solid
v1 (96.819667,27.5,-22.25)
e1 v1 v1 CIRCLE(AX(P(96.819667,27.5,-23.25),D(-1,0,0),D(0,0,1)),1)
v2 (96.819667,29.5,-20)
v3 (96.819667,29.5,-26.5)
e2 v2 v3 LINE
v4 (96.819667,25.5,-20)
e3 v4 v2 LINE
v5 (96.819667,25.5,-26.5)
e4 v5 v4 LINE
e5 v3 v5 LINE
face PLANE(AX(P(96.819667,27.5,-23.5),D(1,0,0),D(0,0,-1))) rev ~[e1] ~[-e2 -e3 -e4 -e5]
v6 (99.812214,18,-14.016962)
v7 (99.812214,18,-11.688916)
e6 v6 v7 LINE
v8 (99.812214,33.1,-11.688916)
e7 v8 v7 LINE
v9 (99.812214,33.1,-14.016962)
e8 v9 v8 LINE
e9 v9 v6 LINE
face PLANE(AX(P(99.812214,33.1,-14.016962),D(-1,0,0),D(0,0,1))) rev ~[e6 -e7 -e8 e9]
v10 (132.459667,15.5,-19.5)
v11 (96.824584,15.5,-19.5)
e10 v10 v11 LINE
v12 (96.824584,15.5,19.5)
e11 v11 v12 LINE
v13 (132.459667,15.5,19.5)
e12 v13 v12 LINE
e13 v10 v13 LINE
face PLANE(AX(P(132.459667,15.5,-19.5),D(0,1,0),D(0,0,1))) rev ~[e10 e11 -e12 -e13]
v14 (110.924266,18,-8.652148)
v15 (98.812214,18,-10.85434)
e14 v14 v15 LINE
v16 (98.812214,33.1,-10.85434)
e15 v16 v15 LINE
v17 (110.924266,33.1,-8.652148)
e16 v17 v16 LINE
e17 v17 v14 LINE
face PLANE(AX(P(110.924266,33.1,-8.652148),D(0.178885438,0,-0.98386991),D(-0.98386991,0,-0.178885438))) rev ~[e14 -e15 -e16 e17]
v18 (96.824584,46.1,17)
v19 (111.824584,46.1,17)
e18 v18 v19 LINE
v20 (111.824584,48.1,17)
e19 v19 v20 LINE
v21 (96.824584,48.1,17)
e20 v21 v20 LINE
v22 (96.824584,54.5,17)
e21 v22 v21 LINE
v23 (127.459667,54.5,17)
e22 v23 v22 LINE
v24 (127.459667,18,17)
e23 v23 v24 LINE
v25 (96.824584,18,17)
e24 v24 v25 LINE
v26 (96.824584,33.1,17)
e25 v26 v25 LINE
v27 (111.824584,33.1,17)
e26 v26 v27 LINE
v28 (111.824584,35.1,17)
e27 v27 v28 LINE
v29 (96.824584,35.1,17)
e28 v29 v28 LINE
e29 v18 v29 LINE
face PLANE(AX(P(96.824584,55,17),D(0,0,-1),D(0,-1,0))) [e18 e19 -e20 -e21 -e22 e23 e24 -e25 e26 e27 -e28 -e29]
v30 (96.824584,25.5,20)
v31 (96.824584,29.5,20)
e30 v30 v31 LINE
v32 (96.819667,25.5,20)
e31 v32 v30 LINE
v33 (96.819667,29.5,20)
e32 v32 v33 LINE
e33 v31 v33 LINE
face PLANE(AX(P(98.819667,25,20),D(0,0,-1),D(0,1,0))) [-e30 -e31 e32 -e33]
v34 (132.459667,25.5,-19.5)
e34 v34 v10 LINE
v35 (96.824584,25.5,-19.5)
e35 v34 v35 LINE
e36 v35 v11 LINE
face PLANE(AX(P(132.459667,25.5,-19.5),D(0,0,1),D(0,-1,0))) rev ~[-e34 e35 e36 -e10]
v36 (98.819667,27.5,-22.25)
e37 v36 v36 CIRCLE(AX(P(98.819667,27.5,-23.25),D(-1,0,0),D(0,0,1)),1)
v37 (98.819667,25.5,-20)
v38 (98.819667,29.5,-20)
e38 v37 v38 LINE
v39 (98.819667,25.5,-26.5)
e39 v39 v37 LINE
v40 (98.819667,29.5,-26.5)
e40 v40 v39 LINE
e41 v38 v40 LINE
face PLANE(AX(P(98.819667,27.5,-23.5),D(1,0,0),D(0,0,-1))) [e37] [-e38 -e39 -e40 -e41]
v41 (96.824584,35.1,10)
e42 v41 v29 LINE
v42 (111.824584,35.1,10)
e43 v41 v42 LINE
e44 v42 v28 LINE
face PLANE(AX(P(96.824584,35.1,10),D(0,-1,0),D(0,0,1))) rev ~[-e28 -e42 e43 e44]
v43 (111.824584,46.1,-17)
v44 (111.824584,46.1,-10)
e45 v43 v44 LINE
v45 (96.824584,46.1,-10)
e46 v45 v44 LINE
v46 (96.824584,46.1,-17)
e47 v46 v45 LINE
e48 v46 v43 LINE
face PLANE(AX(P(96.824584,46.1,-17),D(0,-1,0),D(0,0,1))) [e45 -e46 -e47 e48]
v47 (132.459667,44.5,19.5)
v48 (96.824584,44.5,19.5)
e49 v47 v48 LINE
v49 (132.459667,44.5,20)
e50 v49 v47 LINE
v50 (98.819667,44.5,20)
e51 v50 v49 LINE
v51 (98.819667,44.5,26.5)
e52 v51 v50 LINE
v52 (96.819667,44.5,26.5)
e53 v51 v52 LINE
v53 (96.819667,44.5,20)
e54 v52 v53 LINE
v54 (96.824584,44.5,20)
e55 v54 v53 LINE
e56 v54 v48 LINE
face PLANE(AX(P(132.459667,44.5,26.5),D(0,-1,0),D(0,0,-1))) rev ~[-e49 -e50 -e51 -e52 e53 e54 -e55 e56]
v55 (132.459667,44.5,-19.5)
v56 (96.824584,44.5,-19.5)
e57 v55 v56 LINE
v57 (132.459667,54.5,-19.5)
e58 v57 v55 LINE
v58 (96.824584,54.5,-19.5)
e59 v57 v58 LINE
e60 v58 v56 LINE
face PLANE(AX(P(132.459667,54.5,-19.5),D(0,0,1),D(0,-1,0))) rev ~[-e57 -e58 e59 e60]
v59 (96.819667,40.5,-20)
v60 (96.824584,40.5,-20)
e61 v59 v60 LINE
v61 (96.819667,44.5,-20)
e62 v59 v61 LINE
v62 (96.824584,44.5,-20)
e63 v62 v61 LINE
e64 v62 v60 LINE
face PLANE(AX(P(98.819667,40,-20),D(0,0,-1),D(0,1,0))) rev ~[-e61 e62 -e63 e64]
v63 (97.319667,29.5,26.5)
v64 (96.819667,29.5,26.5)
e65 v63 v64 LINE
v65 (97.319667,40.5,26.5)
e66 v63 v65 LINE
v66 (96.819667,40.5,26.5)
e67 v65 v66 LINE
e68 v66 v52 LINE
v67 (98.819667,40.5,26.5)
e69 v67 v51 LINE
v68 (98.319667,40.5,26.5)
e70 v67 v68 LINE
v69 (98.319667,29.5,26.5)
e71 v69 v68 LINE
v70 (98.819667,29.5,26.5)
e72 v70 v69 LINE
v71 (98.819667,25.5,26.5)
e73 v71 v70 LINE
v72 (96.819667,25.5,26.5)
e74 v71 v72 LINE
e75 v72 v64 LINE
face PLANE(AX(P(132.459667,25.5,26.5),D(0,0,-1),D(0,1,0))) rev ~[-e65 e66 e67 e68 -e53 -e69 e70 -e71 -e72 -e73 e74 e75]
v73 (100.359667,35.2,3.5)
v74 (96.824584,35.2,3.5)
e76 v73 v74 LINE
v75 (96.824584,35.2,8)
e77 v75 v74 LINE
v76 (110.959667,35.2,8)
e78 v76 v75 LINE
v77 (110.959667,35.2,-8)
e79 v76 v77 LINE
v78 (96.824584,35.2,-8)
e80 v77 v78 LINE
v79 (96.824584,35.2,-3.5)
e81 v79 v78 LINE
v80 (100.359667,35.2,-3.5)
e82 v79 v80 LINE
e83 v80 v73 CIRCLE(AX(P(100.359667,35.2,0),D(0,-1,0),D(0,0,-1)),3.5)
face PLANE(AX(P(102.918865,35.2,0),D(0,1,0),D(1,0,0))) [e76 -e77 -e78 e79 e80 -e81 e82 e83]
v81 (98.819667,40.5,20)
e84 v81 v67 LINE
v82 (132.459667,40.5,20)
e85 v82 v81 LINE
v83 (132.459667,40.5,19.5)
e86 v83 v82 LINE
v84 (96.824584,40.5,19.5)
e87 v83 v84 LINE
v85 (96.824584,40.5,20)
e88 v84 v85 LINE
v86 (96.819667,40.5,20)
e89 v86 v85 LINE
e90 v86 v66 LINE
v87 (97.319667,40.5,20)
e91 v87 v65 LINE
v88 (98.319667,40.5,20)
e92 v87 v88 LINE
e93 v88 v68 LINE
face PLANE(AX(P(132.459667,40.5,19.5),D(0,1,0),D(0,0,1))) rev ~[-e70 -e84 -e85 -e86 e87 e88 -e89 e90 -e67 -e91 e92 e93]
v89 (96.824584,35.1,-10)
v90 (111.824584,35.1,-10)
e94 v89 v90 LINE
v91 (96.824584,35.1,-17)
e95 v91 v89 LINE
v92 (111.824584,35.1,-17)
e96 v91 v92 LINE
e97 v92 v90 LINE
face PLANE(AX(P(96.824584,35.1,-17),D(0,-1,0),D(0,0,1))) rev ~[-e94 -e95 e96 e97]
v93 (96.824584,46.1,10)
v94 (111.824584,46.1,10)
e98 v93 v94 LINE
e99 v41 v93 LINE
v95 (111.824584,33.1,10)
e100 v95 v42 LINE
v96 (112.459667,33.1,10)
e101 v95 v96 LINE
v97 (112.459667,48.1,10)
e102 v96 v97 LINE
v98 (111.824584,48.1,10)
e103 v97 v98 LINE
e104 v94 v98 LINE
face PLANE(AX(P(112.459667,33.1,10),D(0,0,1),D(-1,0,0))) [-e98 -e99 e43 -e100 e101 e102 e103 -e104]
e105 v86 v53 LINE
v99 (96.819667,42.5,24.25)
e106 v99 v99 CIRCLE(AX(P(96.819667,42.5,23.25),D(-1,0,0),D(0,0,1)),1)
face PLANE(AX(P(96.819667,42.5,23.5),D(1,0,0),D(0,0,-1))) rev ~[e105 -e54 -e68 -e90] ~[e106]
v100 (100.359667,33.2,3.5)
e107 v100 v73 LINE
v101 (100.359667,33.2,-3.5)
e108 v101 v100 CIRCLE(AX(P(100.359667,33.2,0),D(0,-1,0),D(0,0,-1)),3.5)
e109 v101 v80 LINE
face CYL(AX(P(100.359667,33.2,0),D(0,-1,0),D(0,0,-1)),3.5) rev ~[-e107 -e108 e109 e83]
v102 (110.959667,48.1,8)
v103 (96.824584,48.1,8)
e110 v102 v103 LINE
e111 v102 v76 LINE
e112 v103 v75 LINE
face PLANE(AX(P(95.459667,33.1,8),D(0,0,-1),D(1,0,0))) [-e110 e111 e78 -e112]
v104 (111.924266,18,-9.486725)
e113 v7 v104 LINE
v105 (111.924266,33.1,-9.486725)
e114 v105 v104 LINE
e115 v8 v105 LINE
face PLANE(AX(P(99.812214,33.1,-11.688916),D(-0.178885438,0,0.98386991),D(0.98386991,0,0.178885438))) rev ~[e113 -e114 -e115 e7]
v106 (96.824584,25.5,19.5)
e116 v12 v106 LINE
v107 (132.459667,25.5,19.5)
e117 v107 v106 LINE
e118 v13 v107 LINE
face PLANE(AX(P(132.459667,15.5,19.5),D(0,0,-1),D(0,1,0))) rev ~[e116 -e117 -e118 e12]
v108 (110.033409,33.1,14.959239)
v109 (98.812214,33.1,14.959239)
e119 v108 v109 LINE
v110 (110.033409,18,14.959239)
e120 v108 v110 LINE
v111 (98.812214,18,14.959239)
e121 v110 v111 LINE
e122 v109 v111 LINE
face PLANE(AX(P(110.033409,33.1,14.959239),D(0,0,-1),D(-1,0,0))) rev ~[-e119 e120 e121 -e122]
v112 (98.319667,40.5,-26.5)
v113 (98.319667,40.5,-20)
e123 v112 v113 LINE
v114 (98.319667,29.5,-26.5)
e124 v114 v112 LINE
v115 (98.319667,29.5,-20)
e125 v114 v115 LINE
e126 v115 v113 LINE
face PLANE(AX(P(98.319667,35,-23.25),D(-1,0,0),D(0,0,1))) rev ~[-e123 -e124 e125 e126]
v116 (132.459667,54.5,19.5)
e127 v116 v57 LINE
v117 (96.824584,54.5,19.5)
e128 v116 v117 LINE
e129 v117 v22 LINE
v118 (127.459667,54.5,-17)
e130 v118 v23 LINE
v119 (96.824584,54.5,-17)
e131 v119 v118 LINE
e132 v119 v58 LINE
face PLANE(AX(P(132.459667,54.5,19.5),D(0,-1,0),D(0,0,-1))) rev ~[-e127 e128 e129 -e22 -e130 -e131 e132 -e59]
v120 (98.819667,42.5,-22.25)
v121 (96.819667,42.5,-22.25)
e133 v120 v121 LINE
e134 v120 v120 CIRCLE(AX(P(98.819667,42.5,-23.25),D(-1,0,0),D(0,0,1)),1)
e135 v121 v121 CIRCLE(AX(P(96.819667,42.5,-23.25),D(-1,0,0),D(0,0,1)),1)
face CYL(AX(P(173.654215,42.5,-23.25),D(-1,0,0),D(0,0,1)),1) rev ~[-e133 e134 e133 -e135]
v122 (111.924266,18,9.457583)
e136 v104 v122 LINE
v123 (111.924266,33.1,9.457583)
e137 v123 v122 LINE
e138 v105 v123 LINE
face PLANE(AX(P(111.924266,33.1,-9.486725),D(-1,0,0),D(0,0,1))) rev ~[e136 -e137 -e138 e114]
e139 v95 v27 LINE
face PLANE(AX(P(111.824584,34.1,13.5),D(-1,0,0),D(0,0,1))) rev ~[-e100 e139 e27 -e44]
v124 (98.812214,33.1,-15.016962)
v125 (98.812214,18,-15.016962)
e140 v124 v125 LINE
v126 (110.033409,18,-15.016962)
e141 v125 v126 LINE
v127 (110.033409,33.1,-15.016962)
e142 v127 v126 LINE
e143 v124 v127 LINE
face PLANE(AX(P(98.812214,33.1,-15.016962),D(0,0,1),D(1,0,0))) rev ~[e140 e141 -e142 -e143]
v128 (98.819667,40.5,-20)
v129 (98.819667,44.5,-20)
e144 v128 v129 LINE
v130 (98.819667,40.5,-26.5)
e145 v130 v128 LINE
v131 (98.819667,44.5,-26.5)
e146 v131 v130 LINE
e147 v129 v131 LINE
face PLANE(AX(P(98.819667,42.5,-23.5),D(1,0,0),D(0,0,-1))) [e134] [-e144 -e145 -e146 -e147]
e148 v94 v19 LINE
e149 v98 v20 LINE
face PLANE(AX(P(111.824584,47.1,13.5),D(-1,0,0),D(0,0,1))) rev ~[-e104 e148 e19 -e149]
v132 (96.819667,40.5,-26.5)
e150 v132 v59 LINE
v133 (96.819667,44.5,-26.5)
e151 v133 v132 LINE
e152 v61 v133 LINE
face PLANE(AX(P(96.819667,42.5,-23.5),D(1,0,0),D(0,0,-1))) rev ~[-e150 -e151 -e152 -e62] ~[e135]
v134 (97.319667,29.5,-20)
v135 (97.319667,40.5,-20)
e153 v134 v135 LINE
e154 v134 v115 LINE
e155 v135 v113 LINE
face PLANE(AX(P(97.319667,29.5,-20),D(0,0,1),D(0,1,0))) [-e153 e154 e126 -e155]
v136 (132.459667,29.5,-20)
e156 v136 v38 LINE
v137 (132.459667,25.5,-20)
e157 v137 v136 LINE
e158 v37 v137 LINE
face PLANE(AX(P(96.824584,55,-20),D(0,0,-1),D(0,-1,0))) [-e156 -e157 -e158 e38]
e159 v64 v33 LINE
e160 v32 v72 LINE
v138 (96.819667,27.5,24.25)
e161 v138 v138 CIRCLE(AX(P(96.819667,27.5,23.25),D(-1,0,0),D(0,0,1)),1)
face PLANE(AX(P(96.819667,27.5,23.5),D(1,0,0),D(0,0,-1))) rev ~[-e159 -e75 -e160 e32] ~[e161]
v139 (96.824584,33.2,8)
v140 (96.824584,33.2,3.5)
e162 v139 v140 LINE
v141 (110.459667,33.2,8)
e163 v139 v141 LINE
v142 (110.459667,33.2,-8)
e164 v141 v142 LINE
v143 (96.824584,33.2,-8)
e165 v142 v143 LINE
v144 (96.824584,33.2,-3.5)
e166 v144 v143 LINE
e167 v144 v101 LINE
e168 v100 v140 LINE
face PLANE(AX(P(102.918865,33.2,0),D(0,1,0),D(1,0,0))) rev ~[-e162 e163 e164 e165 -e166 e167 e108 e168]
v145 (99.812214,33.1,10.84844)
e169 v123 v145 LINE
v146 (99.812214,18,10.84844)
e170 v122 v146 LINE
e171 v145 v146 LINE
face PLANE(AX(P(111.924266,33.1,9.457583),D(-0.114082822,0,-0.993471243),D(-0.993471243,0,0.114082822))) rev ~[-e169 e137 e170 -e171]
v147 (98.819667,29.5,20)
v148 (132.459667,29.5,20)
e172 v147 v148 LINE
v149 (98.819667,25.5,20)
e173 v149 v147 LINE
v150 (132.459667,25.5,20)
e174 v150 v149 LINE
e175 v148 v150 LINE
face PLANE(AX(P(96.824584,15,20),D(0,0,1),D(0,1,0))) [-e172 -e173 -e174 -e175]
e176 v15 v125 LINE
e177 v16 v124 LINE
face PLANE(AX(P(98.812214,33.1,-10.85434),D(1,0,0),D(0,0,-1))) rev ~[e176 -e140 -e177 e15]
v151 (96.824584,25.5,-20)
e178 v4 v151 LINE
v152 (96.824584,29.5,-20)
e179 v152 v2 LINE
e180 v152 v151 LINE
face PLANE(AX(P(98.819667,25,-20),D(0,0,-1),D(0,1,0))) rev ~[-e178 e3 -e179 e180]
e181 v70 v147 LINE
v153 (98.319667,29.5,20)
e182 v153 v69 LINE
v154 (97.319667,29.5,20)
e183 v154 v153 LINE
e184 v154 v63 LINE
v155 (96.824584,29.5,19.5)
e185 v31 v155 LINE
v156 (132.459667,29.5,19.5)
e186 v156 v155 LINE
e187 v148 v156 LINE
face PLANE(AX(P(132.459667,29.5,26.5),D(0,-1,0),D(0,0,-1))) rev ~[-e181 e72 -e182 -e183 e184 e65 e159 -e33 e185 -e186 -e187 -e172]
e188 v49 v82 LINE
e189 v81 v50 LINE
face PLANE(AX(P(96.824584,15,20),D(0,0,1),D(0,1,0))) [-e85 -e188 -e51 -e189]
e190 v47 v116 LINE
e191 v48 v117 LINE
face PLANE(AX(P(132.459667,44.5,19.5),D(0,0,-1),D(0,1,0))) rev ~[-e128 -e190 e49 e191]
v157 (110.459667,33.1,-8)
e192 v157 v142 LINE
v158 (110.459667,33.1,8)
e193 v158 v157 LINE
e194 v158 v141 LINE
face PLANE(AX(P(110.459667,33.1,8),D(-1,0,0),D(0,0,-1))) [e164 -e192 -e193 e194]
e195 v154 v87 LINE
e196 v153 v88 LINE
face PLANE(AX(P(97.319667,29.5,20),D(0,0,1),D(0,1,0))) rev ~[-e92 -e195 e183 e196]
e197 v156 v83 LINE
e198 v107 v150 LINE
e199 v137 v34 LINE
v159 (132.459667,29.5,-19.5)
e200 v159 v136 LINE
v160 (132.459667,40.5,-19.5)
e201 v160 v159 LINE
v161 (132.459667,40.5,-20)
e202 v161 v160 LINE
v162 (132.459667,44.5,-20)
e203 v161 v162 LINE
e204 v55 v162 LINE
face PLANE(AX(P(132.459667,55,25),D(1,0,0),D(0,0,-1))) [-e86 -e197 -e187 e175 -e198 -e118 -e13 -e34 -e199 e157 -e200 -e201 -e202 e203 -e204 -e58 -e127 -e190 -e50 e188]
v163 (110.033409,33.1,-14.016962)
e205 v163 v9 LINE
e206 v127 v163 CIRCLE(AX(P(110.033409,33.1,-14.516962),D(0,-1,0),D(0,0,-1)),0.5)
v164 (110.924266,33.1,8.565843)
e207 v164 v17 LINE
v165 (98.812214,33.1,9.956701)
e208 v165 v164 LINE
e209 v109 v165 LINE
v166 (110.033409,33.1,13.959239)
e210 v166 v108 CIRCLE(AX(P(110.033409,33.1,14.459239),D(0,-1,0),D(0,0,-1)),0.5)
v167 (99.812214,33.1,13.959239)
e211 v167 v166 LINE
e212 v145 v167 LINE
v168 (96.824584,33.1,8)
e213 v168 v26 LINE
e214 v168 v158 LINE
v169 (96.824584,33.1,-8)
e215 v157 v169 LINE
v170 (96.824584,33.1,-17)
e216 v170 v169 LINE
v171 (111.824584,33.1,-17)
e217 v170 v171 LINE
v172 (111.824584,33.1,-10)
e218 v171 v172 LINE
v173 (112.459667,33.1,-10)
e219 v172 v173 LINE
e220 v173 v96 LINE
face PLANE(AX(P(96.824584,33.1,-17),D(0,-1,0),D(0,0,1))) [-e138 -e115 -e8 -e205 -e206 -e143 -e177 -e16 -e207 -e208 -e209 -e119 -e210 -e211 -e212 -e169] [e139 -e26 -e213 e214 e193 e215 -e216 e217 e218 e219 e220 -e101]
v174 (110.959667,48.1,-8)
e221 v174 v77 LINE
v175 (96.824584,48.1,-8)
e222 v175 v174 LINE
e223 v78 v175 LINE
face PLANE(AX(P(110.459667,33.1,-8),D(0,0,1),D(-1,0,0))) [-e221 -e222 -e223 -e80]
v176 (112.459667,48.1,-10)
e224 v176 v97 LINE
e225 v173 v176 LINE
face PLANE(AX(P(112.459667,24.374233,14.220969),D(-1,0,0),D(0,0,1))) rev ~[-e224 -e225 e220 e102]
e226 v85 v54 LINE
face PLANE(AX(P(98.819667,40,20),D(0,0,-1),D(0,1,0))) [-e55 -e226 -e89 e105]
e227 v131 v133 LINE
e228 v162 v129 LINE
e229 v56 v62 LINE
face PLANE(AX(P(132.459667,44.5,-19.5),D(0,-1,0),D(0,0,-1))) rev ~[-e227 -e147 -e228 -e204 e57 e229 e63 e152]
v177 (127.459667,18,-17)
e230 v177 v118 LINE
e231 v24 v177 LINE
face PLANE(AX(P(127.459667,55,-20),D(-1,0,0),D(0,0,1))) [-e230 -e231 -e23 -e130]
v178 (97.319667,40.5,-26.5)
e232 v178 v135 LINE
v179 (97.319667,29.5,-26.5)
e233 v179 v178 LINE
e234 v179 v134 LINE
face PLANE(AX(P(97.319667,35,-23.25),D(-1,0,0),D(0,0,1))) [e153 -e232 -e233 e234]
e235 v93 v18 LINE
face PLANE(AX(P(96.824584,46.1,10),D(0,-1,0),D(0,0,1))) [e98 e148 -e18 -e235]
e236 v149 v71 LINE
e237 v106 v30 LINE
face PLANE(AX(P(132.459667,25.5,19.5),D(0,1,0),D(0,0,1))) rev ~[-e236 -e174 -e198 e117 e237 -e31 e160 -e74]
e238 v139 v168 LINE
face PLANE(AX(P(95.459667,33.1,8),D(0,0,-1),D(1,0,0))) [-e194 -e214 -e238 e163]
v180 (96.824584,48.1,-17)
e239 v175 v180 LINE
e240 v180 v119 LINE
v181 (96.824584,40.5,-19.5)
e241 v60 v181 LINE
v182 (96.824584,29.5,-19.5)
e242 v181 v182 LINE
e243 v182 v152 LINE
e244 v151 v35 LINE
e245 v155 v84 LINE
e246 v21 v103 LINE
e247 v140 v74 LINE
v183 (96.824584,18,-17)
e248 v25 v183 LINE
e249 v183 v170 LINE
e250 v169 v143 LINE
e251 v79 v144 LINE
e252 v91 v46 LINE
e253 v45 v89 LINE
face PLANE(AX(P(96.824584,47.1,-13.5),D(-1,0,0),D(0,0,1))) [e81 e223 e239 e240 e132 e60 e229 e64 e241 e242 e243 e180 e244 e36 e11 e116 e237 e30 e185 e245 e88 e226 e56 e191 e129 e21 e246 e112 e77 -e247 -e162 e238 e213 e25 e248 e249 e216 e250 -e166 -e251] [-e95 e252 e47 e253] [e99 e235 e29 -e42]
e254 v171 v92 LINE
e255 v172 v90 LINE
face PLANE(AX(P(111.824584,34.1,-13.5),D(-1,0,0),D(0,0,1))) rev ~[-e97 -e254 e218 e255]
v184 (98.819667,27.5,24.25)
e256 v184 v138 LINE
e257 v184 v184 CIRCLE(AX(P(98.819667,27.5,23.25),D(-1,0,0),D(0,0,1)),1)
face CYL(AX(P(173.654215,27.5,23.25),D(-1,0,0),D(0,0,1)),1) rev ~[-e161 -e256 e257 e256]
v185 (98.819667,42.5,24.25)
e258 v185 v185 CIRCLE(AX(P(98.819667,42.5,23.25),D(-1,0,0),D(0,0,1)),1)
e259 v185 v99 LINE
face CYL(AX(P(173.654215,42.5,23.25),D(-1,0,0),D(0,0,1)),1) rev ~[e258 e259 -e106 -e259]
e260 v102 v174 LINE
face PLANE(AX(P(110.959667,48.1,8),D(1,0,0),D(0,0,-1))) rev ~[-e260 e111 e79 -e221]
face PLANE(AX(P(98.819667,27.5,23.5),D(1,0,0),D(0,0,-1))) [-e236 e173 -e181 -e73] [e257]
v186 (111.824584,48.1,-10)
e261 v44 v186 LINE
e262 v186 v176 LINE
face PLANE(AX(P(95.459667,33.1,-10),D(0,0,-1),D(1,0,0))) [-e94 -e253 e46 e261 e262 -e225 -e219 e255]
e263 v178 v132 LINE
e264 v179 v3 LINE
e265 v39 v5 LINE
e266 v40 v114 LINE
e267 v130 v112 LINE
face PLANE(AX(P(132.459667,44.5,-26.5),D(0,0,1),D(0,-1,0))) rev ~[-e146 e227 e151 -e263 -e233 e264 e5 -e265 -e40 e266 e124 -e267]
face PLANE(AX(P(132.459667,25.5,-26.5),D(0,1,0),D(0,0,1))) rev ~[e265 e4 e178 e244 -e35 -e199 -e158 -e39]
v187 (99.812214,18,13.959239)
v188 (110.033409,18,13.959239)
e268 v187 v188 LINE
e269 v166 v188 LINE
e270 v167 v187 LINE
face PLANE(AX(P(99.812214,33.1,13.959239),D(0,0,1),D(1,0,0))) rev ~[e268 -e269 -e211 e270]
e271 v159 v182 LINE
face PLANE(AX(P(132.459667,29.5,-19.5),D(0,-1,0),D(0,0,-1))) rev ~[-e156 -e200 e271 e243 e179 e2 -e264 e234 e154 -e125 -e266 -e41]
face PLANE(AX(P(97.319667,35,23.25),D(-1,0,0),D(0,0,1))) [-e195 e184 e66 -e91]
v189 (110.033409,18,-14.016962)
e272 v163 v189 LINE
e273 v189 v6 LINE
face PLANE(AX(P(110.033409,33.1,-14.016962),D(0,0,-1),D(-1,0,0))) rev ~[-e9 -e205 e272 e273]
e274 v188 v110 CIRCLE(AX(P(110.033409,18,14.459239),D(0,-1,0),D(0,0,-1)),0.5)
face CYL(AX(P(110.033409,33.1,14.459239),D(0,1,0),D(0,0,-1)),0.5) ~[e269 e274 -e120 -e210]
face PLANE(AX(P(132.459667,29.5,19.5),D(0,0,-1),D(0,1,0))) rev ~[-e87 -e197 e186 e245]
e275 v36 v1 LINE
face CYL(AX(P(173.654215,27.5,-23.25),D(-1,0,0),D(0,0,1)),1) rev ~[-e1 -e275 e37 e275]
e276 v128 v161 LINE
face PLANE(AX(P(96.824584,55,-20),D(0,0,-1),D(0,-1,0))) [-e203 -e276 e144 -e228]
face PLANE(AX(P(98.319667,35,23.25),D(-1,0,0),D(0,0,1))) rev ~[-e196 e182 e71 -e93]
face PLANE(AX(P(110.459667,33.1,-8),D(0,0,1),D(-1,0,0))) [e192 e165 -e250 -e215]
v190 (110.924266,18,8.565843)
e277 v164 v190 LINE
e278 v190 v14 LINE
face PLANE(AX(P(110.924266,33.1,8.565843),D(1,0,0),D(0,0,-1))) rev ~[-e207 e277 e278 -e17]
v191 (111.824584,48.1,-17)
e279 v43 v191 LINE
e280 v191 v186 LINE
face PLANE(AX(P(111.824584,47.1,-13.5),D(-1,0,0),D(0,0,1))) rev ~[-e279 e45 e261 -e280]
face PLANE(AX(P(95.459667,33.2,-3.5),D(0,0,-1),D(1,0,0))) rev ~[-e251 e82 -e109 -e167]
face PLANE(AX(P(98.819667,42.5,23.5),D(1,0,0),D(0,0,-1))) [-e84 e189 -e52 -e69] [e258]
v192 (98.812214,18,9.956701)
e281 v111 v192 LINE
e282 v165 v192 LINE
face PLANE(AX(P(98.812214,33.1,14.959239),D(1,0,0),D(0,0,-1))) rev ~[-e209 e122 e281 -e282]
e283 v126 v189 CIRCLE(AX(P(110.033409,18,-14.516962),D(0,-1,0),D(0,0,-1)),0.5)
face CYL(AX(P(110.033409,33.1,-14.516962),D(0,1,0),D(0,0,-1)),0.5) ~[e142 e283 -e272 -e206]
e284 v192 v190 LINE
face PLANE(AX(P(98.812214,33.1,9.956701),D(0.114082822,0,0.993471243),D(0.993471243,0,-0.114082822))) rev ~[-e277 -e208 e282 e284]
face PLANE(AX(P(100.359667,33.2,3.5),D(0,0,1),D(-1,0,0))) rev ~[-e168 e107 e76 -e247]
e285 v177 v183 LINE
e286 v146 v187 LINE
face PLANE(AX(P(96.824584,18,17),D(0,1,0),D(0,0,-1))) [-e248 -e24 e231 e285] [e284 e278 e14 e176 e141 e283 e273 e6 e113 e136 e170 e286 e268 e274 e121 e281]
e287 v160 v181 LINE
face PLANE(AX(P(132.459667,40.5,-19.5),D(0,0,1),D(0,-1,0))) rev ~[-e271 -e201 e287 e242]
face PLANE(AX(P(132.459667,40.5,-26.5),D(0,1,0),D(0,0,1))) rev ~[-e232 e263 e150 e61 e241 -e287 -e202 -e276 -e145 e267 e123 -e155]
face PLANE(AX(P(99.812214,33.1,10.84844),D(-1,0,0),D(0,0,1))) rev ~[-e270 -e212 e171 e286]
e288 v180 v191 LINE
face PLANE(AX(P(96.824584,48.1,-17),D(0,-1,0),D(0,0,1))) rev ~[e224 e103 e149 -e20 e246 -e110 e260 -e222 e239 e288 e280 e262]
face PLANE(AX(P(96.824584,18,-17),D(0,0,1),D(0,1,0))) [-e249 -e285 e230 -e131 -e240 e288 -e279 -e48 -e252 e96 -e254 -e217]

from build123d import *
from build123d.topology import SkipClean

# Parameters (mm, degrees)
SKETCH1_R               = 100
BOSS_EXTRUDE1_DEPTH     = 10
SKETCH2_R               = 95
SKETCH2_R_2             = 80
CUT_EXTRUDE1_DEPTH      = 2
BOSS_EXTRUDE2_DEPTH     = 40
BOSS_EXTRUDE3_DEPTH     = 5
CUT_EXTRUDE2_START      = -5
SKETCH5_W               = 50
SKETCH5_H               = 40
CUT_EXTRUDE2_DEPTH      = 40
BOSS_EXTRUDE4_DEPTH     = 45
SKETCH8_W               = 40
SKETCH8_H               = 5
BOSS_EXTRUDE5_DEPTH     = 55
CUT_EXTRUDE3_START      = -10
SKETCH10_W              = 8.429508811
SKETCH10_H              = 40
CUT_EXTRUDE3_DEPTH      = 10
BOSS_EXTRUDE6_START     = 18.2
BOSS_EXTRUDE6_DEPTH     = 2
BOSS_EXTRUDE7_START     = 18.1
BOSS_EXTRUDE7_DEPTH     = 15
SKETCH13_W              = 20.653307815
SKETCH13_H              = 40
CUT_EXTRUDE4_DEPTH      = 5
BOSS_EXTRUDE8_DEPTH     = 17
BOSS_EXTRUDE9_DEPTH     = 3
BOSS_EXTRUDE10_DEPTH    = 3
SKETCH18_W              = 11.98170237
SKETCH18_H              = 40
CUT_EXTRUDE5_DEPTH      = 5
CUT_EXTRUDE6_START      = -20
CUT_EXTRUDE6_DEPTH      = 25
CUT_EXTRUDE7_DEPTH      = 300
CUT_EXTRUDE7_DEPTH_BACK = 300
BOSS_EXTRUDE12_DEPTH    = 30.7
CUT_EXTRUDE8_DEPTH      = 40
BOSS_EXTRUDE13_START    = -33.64
SKETCH27_W              = 7
SKETCH27_H              = 5
BOSS_EXTRUDE13_DEPTH    = 2
CUT_EXTRUDE9_DEPTH      = 40
F_2_0MM_DOWEL_HOLE2_D   = 2
SKETCH31_W              = 0.5
SKETCH31_H              = 16
CUT_EXTRUDE10_DEPTH     = 12.9
CUT_EXTRUDE11_DEPTH     = 20
SKETCH33_W              = 7
SKETCH33_H              = 2
BOSS_EXTRUDE14_DEPTH    = 15
BOSS_EXTRUDE15_START    = -0.5
SKETCH34_W              = 6.5
SKETCH34_H              = 11
BOSS_EXTRUDE15_DEPTH    = 1
BOSS_EXTRUDE16_DEPTH    = 15.1


with BuildPart() as part:
    # Sketch1 → Boss-Extrude1 (new body)
    with BuildSketch(Plane(origin=(0, 0, 0), x_dir=(1, 0, 0), z_dir=(0, 1, 0))):
        with Locations(Location((0, 0, 0), (0, 0, 270))):
            Circle(SKETCH1_R)
    extrude(amount=BOSS_EXTRUDE1_DEPTH)

    # Sketch2 → Cut-Extrude1 (cut)
    with BuildSketch(Plane(origin=(0, 10, 0), x_dir=(1, 0, 0), z_dir=(0, 1, 0))):
        with Locations(Location((0, 0, 0), (0, 0, 270))):
            Circle(SKETCH2_R)
        with Locations(Location((0, 0, 0), (0, 0, 270))):
            Circle(SKETCH2_R_2, mode=Mode.SUBTRACT)
    extrude(amount=-CUT_EXTRUDE1_DEPTH, mode=Mode.SUBTRACT)

    # Sketch3 → Boss-Extrude2 (add)
    with SkipClean():  # the faces are left unmerged after this step: merging them gives an invalid solid
        with BuildSketch(Plane(origin=(0, 10, 0), x_dir=(1, 0, 0), z_dir=(0, 1, 0))):
            with BuildLine():
                Line((-67.175144213, 67.175144213), (-70.710678119, 70.710678119))
                ThreePointArc((-70.710678119, 70.710678119), (100, 0), (-70.710678119, -70.710678119))
                Line((-70.710678119, -70.710678119), (-67.175144213, -67.175144213))
                ThreePointArc((-67.175144213, -67.175144213), (95, 0), (-67.175144213, 67.175144213))
            make_face()
        extrude(amount=BOSS_EXTRUDE2_DEPTH)

    # Sketch5 → Cut-Extrude2 (cut)
    with SkipClean():  # the faces are left unmerged after this step: merging them gives an invalid solid
        with BuildSketch(Plane(origin=(0, 55, 0), x_dir=(1, 0, 0), z_dir=(0, 1, 0)).offset(CUT_EXTRUDE2_START)):
            with Locations((102.459666924, 0)):
                Rectangle(SKETCH5_W, SKETCH5_H)
        extrude(amount=-CUT_EXTRUDE2_DEPTH, mode=Mode.SUBTRACT)



with BuildPart() as body_2:
    # Sketch4 → Boss-Extrude3 (new body)
    with BuildSketch(Plane(origin=(0, 50, 0), x_dir=(1, 0, 0), z_dir=(0, 1, 0))):
        with BuildLine():
            ThreePointArc((-67.175144213, -67.175144213), (95, 0), (-67.175144213, 67.175144213))
            Line((-67.175144213, 67.175144213), (-56.568542495, 56.568542495))
            ThreePointArc((-56.568542495, 56.568542495), (30.614674589, 73.910362601), (80, 0))
            ThreePointArc((80, 0), (30.614674589, -73.910362601), (-56.568542495, -56.568542495))
            Line((-56.568542495, -56.568542495), (-67.175144213, -67.175144213))
        make_face()
        with BuildLine():
            Line((-70.710678119, 70.710678119), (-67.175144213, 67.175144213))
            ThreePointArc((-67.175144213, 67.175144213), (95, 0), (-67.175144213, -67.175144213))
            Line((-67.175144213, -67.175144213), (-70.710678119, -70.710678119))
            ThreePointArc((-70.710678119, -70.710678119), (100, 0), (-70.710678119, 70.710678119))
        make_face()
    extrude(amount=BOSS_EXTRUDE3_DEPTH)


with BuildPart() as part_1:
    with SkipClean():  # the faces are left unmerged after this step: merging them gives an invalid solid
        add(part.part)

        add(body_2.part)  # Boss-Extrude4 merges body 2
        # Sketch7 → Boss-Extrude4 (add)
        with BuildSketch(Plane(origin=(0, 55, 0), x_dir=(1, 0, 0), z_dir=(0, 1, 0))):
            with BuildLine():
                ThreePointArc((96.824583655, 25), (97.434164903, 22.507410108), (97.979589711, 20))
                Line((97.979589711, 20), (127.459666924, 20))
                Line((127.459666924, 20), (127.459666924, -20))
                Line((127.459666924, -20), (97.979589711, -20))
                ThreePointArc((97.979589711, -20), (97.434164903, -22.507410108), (96.824583655, -25))
                Line((96.824583655, -25), (132.459666924, -25))
                Line((132.459666924, -25), (132.459666924, 25))
                Line((132.459666924, 25), (96.824583655, 25))
            make_face()
        extrude(amount=-BOSS_EXTRUDE4_DEPTH)

    # Sketch8 → Boss-Extrude5 (add)
    with SkipClean():  # the faces are left unmerged after this step: merging them gives an invalid solid
        with BuildSketch(Plane.ZY.offset(-127.459666924)):
            with Locations((0, 12.5)):
                Rectangle(SKETCH8_W, SKETCH8_H)
        extrude(amount=BOSS_EXTRUDE5_DEPTH)

    # Sketch10 → Cut-Extrude3 (cut)
    with SkipClean():  # the faces are left unmerged after this step: merging them gives an invalid solid
        with BuildSketch(Plane.XZ.offset(CUT_EXTRUDE3_START)):
            with Locations((88.6561237, 0)):
                Rectangle(SKETCH10_W, SKETCH10_H)
            with BuildLine():
                Line((92.870878105, -20), (92.870878105, 20))
                ThreePointArc((92.870878105, 20), (95, 0), (92.870878105, -20))
            make_face()
        extrude(amount=-CUT_EXTRUDE3_DEPTH, mode=Mode.SUBTRACT)

    # Sketch13 → Cut-Extrude4 (cut)
    with SkipClean():  # the faces are left unmerged after this step: merging them gives an invalid solid
        with BuildSketch(Plane(origin=(0, 55, 0), x_dir=(1, 0, 0), z_dir=(0, 1, 0))):
            with Locations((100.326653908, 0)):
                Rectangle(SKETCH13_W, SKETCH13_H)
        extrude(amount=-CUT_EXTRUDE4_DEPTH, mode=Mode.SUBTRACT)



with BuildPart() as body_2_2:
    # Sketch11 → Boss-Extrude6 (new body)
    with BuildSketch(Plane(origin=(0, 15, 0), x_dir=(1, 0, 0), z_dir=(0, 1, 0)).offset(BOSS_EXTRUDE6_START)):
        with BuildLine():
            Line((110.459666924, 8), (95.459666924, 8))
            Line((95.459666924, 8), (95.459666924, 3.5))
            Line((95.459666924, 3.5), (100.359666924, 3.5))
            ThreePointArc((100.359666924, 3.5), (103.859666924, 0), (100.359666924, -3.5))
            Line((100.359666924, -3.5), (95.459666924, -3.5))
            Line((95.459666924, -3.5), (95.459666924, -8))
            Line((95.459666924, -8), (110.459666924, -8))
            Line((110.459666924, -8), (110.459666924, 8))
        make_face()
    extrude(amount=BOSS_EXTRUDE6_DEPTH)

    # Sketch12 → Boss-Extrude7 (add)
    with BuildSketch(Plane(origin=(0, 15, 0), x_dir=(1, 0, 0), z_dir=(0, 1, 0)).offset(BOSS_EXTRUDE7_START)):
        Polygon((95.459666924, -10), (95.459666924, -8), (110.459666924, -8), (110.459666924, 8), (95.459666924, 8), (95.459666924, 10), (112.459666924, 10), (112.459666924, -10), align=None)
    extrude(amount=BOSS_EXTRUDE7_DEPTH)


with BuildPart() as part_2:
    with SkipClean():  # the faces are left unmerged after this step: merging them gives an invalid solid
        add(part_1.part)

        add(body_2_2.part)  # Boss-Extrude8 merges body 2 2
        # Sketch15 → Boss-Extrude8 (add)
        with BuildSketch(Plane(origin=(112.459666924, 0, 0), x_dir=(0, 0, -1), z_dir=(1, 0, 0))):
            Polygon((-8.249409199, 33.1), (-18.249409392, 15), (-20, 15), (-20, 15.967177607), (-10, 34.067177257), align=None)
            Polygon((10, 34.067177257), (20, 15.967177607), (20, 15), (18.249409392, 15), (8.249409199, 33.1), align=None)
        extrude(amount=-BOSS_EXTRUDE8_DEPTH)

    # Sketch16 → Boss-Extrude9 (add)
    with BuildSketch(Plane(origin=(0, 0, 0), x_dir=(0.7071067811865464, 0, 0.7071067811865487), z_dir=(-0.7071067811865487, 0, 0.7071067811865464))):
        Polygon((-80, 50), (-95, 35), (-95, 50), align=None)
    extrude(amount=-BOSS_EXTRUDE9_DEPTH)

    # Sketch17 → Boss-Extrude10 (add)
    with BuildSketch(Plane(origin=(0, 0, 0), x_dir=(-0.7071067811865475, 0, 0.7071067811865477), z_dir=(-0.7071067811865477, 0, -0.7071067811865475))):
        Polygon((80, 50), (95, 35), (95, 50), align=None)
    extrude(amount=-BOSS_EXTRUDE10_DEPTH)

    # Sketch18 → Cut-Extrude5 (cut)
    with BuildSketch(Plane(origin=(0, 15, 0), x_dir=(1, 0, 0), z_dir=(0, 1, 0))):
        with Locations((78.450518109, 0)):
            Rectangle(SKETCH18_W, SKETCH18_H)
    extrude(amount=-CUT_EXTRUDE5_DEPTH, mode=Mode.SUBTRACT)

    # Sketch20 → Cut-Extrude6 (cut)
    with BuildSketch(Plane(origin=(0, 55, 0), x_dir=(1, 0, 0), z_dir=(0, 1, 0)).offset(CUT_EXTRUDE6_START)):
        with BuildLine():
            Line((0, 0), (-31.757481462, 118.520534337))
            ThreePointArc((-31.757481462, 118.520534337), (-122.701486088, 0), (-31.757481462, -118.520534337))
            Line((-31.757481462, -118.520534337), (0, 0))
        make_face()
    extrude(amount=-CUT_EXTRUDE6_DEPTH, mode=Mode.SUBTRACT)

    # Sketch21 → Cut-Extrude7 (cut, two sides)
    with BuildSketch(Plane.XY.offset(25)) as cut_extrude7_sk:
        Polygon((100, 0), (100, 10), (96.824583655, 10), (96.824583655, 55), (-129.04485411, 55), (-129.04485411, 0), align=None)
    extrude(amount=CUT_EXTRUDE7_DEPTH, mode=Mode.SUBTRACT)
    extrude(cut_extrude7_sk.sketch, amount=-CUT_EXTRUDE7_DEPTH_BACK, mode=Mode.SUBTRACT)

    # Sketch25 → Boss-Extrude12 (add)
    with BuildSketch(Plane.ZY.offset(-96.824583655)):
        Polygon((-20, 55), (-20, 15), (20, 15), (20, 55), (17, 55), (17, 18), (-17, 18), (-17, 55), align=None)
    extrude(amount=-BOSS_EXTRUDE12_DEPTH)

    # Sketch26 → Cut-Extrude8 (cut)
    with BuildSketch(Plane.ZY.offset(-96.824583655)):
        Polygon((-20, 55), (-20, 15), (20, 15), (20, 55), (25, 55), (25, 10), (-25, 10), (-25, 55), align=None)
    extrude(amount=-CUT_EXTRUDE8_DEPTH, mode=Mode.SUBTRACT)

    # Sketch27 → Boss-Extrude13 (add)
    with BuildSketch(Plane(origin=(132.459666924, 0, 0), x_dir=(0, 0, -1), z_dir=(1, 0, 0)).offset(BOSS_EXTRUDE13_START)):
        with Locations((-23.5, 42.5)):
            Rectangle(SKETCH27_W, SKETCH27_H)
        with Locations((-23.5, 27.5)):
            Rectangle(SKETCH27_W, SKETCH27_H)
        with Locations((23.5, 27.5)):
            Rectangle(SKETCH27_W, SKETCH27_H)
        with Locations((23.5, 42.5)):
            Rectangle(SKETCH27_W, SKETCH27_H)
    extrude(amount=-BOSS_EXTRUDE13_DEPTH)

    # Sketch28 → Cut-Extrude9 (cut)
    with BuildSketch(Plane(origin=(132.459666924, 0, 0), x_dir=(0, 0, -1), z_dir=(1, 0, 0))):
        Polygon((20, 44.5), (20, 45), (20, 55), (-20, 55), (-20, 45), (-20, 44.5), (-19.5, 44.5), (-19.5, 54.5), (19.5, 54.5), (19.5, 44.5), align=None)
        Polygon((-20, 44.5), (-20, 45), (-27, 45), (-27, 40), (-20, 40), (-20, 40.5), (-26.5, 40.5), (-26.5, 44.5), align=None)
        Polygon((-19.5, 40.5), (-20, 40.5), (-20, 40), (-20, 30), (-20, 29.5), (-19.5, 29.5), align=None)
        Polygon((-20, 29.5), (-20, 30), (-27, 30), (-27, 25), (-20, 25), (-20, 25.5), (-26.5, 25.5), (-26.5, 29.5), align=None)
        Polygon((20, 25), (20, 25.5), (19.5, 25.5), (19.5, 15.5), (-19.5, 15.5), (-19.5, 25.5), (-20, 25.5), (-20, 25), (-20, 15), (20, 15), align=None)
        Polygon((27, 30), (20, 30), (20, 29.5), (26.5, 29.5), (26.5, 25.5), (20, 25.5), (20, 25), (27, 25), align=None)
        Polygon((20, 40), (20, 40.5), (19.5, 40.5), (19.5, 29.5), (20, 29.5), (20, 30), align=None)
        Polygon((27, 45), (20, 45), (20, 44.5), (26.5, 44.5), (26.5, 40.5), (20, 40.5), (20, 40), (27, 40), align=None)
    extrude(amount=-CUT_EXTRUDE9_DEPTH, mode=Mode.SUBTRACT)

    # 2.0mm Dowel Hole2 (through all)
    with Locations(Plane(origin=(98.819666924, 0, 0), x_dir=(0, 0, -1), z_dir=(1, 0, 0))):
        with Locations((-23.25, 42.5), (-23.25, 27.5), (23.25, 27.5), (23.25, 42.5)):
            Hole(F_2_0MM_DOWEL_HOLE2_D / 2)

    # Sketch31 → Cut-Extrude10 (cut)
    with BuildSketch(Plane(origin=(0, 48.1, 0), x_dir=(1, 0, 0), z_dir=(0, 1, 0))):
        with Locations((110.709666924, 0)):
            Rectangle(SKETCH31_W, SKETCH31_H)
    extrude(amount=-CUT_EXTRUDE10_DEPTH, mode=Mode.SUBTRACT)

    # Sketch32 → Cut-Extrude11 (cut)
    with BuildSketch(Plane.ZY.offset(-96.824583655)):
        Polygon((-10, 48.1), (-10, 33.1), (10, 33.1), (10, 48.1), (17, 48.1), (17, 18), (-17, 18), (-17, 48.1), align=None)
    extrude(amount=-CUT_EXTRUDE11_DEPTH, mode=Mode.SUBTRACT)


with BuildPart() as cut_extrude11_piece_1:
    # of the separate pieces the step leaves, piece 1, a body of its own (cut_extrude11_pieces)
    add(part_2.part.solids().sort_by_distance((96.824583655, 18, 17))[0])



with BuildPart() as cut_extrude11_piece_2:
    # of the separate pieces the step leaves, piece 2, a body of its own (cut_extrude11_pieces)
    add(part_2.part.solids().sort_by_distance((96.824583655, 33.1, 10))[0])


with BuildPart() as cut_extrude11_piece_1_1:
    add(cut_extrude11_piece_1.part)

    add(cut_extrude11_piece_2.part)  # Boss-Extrude14 merges Cut-Extrude11 piece 2
    # Sketch33 → Boss-Extrude14 (add)
    with BuildSketch(Plane.ZY.offset(-96.824583655)):
        with Locations((-13.5, 47.1)):
            Rectangle(SKETCH33_W, SKETCH33_H)
        with Locations((-13.5, 34.1)):
            Rectangle(SKETCH33_W, SKETCH33_H)
        with Locations((13.5, 47.1)):
            Rectangle(SKETCH33_W, SKETCH33_H)
        with Locations((13.5, 34.1)):
            Rectangle(SKETCH33_W, SKETCH33_H)
    extrude(amount=-BOSS_EXTRUDE14_DEPTH)

    # Sketch34 → Boss-Extrude15 (add)
    with BuildSketch(Plane.ZY.offset(-96.819666924).offset(BOSS_EXTRUDE15_START)):
        with Locations((-23.25, 35)):
            Rectangle(SKETCH34_W, SKETCH34_H)
        with Locations((23.25, 35)):
            Rectangle(SKETCH34_W, SKETCH34_H)
    extrude(amount=-BOSS_EXTRUDE15_DEPTH)

    # Sketch35 → Boss-Extrude16 (add)
    with BuildSketch(Plane.XZ.offset(-33.1)):
        with BuildLine():
            Line((110.03340873, 14.959238822), (98.812214277, 14.959238822))
            Line((98.812214277, 14.959238822), (98.812214277, 9.956701087))
            Line((98.812214277, 9.956701087), (110.924266388, 8.565843429))
            Line((110.924266388, 8.565843429), (110.924266388, -8.652148394))
            Line((110.924266388, -8.652148394), (98.812214277, -10.854339687))
            Line((98.812214277, -10.854339687), (98.812214277, -15.0169624))
            Line((98.812214277, -15.0169624), (110.03340873, -15.0169624))
            ThreePointArc((110.03340873, -15.0169624), (110.53340873, -14.5169624), (110.03340873, -14.0169624))
            Line((110.03340873, -14.0169624), (99.812214277, -14.0169624))
            Line((99.812214277, -14.0169624), (99.812214277, -11.68891604))
            Line((99.812214277, -11.68891604), (111.924266388, -9.486724747))
            Line((111.924266388, -9.486724747), (111.924266388, 9.457582555))
            Line((111.924266388, 9.457582555), (99.812214277, 10.848440214))
            Line((99.812214277, 10.848440214), (99.812214277, 13.959238822))
            Line((99.812214277, 13.959238822), (110.03340873, 13.959238822))
            ThreePointArc((110.03340873, 13.959238822), (110.53340873, 14.459238822), (110.03340873, 14.959238822))
        make_face()
    extrude(amount=BOSS_EXTRUDE16_DEPTH)


solid = cut_extrude11_piece_1_1.part
